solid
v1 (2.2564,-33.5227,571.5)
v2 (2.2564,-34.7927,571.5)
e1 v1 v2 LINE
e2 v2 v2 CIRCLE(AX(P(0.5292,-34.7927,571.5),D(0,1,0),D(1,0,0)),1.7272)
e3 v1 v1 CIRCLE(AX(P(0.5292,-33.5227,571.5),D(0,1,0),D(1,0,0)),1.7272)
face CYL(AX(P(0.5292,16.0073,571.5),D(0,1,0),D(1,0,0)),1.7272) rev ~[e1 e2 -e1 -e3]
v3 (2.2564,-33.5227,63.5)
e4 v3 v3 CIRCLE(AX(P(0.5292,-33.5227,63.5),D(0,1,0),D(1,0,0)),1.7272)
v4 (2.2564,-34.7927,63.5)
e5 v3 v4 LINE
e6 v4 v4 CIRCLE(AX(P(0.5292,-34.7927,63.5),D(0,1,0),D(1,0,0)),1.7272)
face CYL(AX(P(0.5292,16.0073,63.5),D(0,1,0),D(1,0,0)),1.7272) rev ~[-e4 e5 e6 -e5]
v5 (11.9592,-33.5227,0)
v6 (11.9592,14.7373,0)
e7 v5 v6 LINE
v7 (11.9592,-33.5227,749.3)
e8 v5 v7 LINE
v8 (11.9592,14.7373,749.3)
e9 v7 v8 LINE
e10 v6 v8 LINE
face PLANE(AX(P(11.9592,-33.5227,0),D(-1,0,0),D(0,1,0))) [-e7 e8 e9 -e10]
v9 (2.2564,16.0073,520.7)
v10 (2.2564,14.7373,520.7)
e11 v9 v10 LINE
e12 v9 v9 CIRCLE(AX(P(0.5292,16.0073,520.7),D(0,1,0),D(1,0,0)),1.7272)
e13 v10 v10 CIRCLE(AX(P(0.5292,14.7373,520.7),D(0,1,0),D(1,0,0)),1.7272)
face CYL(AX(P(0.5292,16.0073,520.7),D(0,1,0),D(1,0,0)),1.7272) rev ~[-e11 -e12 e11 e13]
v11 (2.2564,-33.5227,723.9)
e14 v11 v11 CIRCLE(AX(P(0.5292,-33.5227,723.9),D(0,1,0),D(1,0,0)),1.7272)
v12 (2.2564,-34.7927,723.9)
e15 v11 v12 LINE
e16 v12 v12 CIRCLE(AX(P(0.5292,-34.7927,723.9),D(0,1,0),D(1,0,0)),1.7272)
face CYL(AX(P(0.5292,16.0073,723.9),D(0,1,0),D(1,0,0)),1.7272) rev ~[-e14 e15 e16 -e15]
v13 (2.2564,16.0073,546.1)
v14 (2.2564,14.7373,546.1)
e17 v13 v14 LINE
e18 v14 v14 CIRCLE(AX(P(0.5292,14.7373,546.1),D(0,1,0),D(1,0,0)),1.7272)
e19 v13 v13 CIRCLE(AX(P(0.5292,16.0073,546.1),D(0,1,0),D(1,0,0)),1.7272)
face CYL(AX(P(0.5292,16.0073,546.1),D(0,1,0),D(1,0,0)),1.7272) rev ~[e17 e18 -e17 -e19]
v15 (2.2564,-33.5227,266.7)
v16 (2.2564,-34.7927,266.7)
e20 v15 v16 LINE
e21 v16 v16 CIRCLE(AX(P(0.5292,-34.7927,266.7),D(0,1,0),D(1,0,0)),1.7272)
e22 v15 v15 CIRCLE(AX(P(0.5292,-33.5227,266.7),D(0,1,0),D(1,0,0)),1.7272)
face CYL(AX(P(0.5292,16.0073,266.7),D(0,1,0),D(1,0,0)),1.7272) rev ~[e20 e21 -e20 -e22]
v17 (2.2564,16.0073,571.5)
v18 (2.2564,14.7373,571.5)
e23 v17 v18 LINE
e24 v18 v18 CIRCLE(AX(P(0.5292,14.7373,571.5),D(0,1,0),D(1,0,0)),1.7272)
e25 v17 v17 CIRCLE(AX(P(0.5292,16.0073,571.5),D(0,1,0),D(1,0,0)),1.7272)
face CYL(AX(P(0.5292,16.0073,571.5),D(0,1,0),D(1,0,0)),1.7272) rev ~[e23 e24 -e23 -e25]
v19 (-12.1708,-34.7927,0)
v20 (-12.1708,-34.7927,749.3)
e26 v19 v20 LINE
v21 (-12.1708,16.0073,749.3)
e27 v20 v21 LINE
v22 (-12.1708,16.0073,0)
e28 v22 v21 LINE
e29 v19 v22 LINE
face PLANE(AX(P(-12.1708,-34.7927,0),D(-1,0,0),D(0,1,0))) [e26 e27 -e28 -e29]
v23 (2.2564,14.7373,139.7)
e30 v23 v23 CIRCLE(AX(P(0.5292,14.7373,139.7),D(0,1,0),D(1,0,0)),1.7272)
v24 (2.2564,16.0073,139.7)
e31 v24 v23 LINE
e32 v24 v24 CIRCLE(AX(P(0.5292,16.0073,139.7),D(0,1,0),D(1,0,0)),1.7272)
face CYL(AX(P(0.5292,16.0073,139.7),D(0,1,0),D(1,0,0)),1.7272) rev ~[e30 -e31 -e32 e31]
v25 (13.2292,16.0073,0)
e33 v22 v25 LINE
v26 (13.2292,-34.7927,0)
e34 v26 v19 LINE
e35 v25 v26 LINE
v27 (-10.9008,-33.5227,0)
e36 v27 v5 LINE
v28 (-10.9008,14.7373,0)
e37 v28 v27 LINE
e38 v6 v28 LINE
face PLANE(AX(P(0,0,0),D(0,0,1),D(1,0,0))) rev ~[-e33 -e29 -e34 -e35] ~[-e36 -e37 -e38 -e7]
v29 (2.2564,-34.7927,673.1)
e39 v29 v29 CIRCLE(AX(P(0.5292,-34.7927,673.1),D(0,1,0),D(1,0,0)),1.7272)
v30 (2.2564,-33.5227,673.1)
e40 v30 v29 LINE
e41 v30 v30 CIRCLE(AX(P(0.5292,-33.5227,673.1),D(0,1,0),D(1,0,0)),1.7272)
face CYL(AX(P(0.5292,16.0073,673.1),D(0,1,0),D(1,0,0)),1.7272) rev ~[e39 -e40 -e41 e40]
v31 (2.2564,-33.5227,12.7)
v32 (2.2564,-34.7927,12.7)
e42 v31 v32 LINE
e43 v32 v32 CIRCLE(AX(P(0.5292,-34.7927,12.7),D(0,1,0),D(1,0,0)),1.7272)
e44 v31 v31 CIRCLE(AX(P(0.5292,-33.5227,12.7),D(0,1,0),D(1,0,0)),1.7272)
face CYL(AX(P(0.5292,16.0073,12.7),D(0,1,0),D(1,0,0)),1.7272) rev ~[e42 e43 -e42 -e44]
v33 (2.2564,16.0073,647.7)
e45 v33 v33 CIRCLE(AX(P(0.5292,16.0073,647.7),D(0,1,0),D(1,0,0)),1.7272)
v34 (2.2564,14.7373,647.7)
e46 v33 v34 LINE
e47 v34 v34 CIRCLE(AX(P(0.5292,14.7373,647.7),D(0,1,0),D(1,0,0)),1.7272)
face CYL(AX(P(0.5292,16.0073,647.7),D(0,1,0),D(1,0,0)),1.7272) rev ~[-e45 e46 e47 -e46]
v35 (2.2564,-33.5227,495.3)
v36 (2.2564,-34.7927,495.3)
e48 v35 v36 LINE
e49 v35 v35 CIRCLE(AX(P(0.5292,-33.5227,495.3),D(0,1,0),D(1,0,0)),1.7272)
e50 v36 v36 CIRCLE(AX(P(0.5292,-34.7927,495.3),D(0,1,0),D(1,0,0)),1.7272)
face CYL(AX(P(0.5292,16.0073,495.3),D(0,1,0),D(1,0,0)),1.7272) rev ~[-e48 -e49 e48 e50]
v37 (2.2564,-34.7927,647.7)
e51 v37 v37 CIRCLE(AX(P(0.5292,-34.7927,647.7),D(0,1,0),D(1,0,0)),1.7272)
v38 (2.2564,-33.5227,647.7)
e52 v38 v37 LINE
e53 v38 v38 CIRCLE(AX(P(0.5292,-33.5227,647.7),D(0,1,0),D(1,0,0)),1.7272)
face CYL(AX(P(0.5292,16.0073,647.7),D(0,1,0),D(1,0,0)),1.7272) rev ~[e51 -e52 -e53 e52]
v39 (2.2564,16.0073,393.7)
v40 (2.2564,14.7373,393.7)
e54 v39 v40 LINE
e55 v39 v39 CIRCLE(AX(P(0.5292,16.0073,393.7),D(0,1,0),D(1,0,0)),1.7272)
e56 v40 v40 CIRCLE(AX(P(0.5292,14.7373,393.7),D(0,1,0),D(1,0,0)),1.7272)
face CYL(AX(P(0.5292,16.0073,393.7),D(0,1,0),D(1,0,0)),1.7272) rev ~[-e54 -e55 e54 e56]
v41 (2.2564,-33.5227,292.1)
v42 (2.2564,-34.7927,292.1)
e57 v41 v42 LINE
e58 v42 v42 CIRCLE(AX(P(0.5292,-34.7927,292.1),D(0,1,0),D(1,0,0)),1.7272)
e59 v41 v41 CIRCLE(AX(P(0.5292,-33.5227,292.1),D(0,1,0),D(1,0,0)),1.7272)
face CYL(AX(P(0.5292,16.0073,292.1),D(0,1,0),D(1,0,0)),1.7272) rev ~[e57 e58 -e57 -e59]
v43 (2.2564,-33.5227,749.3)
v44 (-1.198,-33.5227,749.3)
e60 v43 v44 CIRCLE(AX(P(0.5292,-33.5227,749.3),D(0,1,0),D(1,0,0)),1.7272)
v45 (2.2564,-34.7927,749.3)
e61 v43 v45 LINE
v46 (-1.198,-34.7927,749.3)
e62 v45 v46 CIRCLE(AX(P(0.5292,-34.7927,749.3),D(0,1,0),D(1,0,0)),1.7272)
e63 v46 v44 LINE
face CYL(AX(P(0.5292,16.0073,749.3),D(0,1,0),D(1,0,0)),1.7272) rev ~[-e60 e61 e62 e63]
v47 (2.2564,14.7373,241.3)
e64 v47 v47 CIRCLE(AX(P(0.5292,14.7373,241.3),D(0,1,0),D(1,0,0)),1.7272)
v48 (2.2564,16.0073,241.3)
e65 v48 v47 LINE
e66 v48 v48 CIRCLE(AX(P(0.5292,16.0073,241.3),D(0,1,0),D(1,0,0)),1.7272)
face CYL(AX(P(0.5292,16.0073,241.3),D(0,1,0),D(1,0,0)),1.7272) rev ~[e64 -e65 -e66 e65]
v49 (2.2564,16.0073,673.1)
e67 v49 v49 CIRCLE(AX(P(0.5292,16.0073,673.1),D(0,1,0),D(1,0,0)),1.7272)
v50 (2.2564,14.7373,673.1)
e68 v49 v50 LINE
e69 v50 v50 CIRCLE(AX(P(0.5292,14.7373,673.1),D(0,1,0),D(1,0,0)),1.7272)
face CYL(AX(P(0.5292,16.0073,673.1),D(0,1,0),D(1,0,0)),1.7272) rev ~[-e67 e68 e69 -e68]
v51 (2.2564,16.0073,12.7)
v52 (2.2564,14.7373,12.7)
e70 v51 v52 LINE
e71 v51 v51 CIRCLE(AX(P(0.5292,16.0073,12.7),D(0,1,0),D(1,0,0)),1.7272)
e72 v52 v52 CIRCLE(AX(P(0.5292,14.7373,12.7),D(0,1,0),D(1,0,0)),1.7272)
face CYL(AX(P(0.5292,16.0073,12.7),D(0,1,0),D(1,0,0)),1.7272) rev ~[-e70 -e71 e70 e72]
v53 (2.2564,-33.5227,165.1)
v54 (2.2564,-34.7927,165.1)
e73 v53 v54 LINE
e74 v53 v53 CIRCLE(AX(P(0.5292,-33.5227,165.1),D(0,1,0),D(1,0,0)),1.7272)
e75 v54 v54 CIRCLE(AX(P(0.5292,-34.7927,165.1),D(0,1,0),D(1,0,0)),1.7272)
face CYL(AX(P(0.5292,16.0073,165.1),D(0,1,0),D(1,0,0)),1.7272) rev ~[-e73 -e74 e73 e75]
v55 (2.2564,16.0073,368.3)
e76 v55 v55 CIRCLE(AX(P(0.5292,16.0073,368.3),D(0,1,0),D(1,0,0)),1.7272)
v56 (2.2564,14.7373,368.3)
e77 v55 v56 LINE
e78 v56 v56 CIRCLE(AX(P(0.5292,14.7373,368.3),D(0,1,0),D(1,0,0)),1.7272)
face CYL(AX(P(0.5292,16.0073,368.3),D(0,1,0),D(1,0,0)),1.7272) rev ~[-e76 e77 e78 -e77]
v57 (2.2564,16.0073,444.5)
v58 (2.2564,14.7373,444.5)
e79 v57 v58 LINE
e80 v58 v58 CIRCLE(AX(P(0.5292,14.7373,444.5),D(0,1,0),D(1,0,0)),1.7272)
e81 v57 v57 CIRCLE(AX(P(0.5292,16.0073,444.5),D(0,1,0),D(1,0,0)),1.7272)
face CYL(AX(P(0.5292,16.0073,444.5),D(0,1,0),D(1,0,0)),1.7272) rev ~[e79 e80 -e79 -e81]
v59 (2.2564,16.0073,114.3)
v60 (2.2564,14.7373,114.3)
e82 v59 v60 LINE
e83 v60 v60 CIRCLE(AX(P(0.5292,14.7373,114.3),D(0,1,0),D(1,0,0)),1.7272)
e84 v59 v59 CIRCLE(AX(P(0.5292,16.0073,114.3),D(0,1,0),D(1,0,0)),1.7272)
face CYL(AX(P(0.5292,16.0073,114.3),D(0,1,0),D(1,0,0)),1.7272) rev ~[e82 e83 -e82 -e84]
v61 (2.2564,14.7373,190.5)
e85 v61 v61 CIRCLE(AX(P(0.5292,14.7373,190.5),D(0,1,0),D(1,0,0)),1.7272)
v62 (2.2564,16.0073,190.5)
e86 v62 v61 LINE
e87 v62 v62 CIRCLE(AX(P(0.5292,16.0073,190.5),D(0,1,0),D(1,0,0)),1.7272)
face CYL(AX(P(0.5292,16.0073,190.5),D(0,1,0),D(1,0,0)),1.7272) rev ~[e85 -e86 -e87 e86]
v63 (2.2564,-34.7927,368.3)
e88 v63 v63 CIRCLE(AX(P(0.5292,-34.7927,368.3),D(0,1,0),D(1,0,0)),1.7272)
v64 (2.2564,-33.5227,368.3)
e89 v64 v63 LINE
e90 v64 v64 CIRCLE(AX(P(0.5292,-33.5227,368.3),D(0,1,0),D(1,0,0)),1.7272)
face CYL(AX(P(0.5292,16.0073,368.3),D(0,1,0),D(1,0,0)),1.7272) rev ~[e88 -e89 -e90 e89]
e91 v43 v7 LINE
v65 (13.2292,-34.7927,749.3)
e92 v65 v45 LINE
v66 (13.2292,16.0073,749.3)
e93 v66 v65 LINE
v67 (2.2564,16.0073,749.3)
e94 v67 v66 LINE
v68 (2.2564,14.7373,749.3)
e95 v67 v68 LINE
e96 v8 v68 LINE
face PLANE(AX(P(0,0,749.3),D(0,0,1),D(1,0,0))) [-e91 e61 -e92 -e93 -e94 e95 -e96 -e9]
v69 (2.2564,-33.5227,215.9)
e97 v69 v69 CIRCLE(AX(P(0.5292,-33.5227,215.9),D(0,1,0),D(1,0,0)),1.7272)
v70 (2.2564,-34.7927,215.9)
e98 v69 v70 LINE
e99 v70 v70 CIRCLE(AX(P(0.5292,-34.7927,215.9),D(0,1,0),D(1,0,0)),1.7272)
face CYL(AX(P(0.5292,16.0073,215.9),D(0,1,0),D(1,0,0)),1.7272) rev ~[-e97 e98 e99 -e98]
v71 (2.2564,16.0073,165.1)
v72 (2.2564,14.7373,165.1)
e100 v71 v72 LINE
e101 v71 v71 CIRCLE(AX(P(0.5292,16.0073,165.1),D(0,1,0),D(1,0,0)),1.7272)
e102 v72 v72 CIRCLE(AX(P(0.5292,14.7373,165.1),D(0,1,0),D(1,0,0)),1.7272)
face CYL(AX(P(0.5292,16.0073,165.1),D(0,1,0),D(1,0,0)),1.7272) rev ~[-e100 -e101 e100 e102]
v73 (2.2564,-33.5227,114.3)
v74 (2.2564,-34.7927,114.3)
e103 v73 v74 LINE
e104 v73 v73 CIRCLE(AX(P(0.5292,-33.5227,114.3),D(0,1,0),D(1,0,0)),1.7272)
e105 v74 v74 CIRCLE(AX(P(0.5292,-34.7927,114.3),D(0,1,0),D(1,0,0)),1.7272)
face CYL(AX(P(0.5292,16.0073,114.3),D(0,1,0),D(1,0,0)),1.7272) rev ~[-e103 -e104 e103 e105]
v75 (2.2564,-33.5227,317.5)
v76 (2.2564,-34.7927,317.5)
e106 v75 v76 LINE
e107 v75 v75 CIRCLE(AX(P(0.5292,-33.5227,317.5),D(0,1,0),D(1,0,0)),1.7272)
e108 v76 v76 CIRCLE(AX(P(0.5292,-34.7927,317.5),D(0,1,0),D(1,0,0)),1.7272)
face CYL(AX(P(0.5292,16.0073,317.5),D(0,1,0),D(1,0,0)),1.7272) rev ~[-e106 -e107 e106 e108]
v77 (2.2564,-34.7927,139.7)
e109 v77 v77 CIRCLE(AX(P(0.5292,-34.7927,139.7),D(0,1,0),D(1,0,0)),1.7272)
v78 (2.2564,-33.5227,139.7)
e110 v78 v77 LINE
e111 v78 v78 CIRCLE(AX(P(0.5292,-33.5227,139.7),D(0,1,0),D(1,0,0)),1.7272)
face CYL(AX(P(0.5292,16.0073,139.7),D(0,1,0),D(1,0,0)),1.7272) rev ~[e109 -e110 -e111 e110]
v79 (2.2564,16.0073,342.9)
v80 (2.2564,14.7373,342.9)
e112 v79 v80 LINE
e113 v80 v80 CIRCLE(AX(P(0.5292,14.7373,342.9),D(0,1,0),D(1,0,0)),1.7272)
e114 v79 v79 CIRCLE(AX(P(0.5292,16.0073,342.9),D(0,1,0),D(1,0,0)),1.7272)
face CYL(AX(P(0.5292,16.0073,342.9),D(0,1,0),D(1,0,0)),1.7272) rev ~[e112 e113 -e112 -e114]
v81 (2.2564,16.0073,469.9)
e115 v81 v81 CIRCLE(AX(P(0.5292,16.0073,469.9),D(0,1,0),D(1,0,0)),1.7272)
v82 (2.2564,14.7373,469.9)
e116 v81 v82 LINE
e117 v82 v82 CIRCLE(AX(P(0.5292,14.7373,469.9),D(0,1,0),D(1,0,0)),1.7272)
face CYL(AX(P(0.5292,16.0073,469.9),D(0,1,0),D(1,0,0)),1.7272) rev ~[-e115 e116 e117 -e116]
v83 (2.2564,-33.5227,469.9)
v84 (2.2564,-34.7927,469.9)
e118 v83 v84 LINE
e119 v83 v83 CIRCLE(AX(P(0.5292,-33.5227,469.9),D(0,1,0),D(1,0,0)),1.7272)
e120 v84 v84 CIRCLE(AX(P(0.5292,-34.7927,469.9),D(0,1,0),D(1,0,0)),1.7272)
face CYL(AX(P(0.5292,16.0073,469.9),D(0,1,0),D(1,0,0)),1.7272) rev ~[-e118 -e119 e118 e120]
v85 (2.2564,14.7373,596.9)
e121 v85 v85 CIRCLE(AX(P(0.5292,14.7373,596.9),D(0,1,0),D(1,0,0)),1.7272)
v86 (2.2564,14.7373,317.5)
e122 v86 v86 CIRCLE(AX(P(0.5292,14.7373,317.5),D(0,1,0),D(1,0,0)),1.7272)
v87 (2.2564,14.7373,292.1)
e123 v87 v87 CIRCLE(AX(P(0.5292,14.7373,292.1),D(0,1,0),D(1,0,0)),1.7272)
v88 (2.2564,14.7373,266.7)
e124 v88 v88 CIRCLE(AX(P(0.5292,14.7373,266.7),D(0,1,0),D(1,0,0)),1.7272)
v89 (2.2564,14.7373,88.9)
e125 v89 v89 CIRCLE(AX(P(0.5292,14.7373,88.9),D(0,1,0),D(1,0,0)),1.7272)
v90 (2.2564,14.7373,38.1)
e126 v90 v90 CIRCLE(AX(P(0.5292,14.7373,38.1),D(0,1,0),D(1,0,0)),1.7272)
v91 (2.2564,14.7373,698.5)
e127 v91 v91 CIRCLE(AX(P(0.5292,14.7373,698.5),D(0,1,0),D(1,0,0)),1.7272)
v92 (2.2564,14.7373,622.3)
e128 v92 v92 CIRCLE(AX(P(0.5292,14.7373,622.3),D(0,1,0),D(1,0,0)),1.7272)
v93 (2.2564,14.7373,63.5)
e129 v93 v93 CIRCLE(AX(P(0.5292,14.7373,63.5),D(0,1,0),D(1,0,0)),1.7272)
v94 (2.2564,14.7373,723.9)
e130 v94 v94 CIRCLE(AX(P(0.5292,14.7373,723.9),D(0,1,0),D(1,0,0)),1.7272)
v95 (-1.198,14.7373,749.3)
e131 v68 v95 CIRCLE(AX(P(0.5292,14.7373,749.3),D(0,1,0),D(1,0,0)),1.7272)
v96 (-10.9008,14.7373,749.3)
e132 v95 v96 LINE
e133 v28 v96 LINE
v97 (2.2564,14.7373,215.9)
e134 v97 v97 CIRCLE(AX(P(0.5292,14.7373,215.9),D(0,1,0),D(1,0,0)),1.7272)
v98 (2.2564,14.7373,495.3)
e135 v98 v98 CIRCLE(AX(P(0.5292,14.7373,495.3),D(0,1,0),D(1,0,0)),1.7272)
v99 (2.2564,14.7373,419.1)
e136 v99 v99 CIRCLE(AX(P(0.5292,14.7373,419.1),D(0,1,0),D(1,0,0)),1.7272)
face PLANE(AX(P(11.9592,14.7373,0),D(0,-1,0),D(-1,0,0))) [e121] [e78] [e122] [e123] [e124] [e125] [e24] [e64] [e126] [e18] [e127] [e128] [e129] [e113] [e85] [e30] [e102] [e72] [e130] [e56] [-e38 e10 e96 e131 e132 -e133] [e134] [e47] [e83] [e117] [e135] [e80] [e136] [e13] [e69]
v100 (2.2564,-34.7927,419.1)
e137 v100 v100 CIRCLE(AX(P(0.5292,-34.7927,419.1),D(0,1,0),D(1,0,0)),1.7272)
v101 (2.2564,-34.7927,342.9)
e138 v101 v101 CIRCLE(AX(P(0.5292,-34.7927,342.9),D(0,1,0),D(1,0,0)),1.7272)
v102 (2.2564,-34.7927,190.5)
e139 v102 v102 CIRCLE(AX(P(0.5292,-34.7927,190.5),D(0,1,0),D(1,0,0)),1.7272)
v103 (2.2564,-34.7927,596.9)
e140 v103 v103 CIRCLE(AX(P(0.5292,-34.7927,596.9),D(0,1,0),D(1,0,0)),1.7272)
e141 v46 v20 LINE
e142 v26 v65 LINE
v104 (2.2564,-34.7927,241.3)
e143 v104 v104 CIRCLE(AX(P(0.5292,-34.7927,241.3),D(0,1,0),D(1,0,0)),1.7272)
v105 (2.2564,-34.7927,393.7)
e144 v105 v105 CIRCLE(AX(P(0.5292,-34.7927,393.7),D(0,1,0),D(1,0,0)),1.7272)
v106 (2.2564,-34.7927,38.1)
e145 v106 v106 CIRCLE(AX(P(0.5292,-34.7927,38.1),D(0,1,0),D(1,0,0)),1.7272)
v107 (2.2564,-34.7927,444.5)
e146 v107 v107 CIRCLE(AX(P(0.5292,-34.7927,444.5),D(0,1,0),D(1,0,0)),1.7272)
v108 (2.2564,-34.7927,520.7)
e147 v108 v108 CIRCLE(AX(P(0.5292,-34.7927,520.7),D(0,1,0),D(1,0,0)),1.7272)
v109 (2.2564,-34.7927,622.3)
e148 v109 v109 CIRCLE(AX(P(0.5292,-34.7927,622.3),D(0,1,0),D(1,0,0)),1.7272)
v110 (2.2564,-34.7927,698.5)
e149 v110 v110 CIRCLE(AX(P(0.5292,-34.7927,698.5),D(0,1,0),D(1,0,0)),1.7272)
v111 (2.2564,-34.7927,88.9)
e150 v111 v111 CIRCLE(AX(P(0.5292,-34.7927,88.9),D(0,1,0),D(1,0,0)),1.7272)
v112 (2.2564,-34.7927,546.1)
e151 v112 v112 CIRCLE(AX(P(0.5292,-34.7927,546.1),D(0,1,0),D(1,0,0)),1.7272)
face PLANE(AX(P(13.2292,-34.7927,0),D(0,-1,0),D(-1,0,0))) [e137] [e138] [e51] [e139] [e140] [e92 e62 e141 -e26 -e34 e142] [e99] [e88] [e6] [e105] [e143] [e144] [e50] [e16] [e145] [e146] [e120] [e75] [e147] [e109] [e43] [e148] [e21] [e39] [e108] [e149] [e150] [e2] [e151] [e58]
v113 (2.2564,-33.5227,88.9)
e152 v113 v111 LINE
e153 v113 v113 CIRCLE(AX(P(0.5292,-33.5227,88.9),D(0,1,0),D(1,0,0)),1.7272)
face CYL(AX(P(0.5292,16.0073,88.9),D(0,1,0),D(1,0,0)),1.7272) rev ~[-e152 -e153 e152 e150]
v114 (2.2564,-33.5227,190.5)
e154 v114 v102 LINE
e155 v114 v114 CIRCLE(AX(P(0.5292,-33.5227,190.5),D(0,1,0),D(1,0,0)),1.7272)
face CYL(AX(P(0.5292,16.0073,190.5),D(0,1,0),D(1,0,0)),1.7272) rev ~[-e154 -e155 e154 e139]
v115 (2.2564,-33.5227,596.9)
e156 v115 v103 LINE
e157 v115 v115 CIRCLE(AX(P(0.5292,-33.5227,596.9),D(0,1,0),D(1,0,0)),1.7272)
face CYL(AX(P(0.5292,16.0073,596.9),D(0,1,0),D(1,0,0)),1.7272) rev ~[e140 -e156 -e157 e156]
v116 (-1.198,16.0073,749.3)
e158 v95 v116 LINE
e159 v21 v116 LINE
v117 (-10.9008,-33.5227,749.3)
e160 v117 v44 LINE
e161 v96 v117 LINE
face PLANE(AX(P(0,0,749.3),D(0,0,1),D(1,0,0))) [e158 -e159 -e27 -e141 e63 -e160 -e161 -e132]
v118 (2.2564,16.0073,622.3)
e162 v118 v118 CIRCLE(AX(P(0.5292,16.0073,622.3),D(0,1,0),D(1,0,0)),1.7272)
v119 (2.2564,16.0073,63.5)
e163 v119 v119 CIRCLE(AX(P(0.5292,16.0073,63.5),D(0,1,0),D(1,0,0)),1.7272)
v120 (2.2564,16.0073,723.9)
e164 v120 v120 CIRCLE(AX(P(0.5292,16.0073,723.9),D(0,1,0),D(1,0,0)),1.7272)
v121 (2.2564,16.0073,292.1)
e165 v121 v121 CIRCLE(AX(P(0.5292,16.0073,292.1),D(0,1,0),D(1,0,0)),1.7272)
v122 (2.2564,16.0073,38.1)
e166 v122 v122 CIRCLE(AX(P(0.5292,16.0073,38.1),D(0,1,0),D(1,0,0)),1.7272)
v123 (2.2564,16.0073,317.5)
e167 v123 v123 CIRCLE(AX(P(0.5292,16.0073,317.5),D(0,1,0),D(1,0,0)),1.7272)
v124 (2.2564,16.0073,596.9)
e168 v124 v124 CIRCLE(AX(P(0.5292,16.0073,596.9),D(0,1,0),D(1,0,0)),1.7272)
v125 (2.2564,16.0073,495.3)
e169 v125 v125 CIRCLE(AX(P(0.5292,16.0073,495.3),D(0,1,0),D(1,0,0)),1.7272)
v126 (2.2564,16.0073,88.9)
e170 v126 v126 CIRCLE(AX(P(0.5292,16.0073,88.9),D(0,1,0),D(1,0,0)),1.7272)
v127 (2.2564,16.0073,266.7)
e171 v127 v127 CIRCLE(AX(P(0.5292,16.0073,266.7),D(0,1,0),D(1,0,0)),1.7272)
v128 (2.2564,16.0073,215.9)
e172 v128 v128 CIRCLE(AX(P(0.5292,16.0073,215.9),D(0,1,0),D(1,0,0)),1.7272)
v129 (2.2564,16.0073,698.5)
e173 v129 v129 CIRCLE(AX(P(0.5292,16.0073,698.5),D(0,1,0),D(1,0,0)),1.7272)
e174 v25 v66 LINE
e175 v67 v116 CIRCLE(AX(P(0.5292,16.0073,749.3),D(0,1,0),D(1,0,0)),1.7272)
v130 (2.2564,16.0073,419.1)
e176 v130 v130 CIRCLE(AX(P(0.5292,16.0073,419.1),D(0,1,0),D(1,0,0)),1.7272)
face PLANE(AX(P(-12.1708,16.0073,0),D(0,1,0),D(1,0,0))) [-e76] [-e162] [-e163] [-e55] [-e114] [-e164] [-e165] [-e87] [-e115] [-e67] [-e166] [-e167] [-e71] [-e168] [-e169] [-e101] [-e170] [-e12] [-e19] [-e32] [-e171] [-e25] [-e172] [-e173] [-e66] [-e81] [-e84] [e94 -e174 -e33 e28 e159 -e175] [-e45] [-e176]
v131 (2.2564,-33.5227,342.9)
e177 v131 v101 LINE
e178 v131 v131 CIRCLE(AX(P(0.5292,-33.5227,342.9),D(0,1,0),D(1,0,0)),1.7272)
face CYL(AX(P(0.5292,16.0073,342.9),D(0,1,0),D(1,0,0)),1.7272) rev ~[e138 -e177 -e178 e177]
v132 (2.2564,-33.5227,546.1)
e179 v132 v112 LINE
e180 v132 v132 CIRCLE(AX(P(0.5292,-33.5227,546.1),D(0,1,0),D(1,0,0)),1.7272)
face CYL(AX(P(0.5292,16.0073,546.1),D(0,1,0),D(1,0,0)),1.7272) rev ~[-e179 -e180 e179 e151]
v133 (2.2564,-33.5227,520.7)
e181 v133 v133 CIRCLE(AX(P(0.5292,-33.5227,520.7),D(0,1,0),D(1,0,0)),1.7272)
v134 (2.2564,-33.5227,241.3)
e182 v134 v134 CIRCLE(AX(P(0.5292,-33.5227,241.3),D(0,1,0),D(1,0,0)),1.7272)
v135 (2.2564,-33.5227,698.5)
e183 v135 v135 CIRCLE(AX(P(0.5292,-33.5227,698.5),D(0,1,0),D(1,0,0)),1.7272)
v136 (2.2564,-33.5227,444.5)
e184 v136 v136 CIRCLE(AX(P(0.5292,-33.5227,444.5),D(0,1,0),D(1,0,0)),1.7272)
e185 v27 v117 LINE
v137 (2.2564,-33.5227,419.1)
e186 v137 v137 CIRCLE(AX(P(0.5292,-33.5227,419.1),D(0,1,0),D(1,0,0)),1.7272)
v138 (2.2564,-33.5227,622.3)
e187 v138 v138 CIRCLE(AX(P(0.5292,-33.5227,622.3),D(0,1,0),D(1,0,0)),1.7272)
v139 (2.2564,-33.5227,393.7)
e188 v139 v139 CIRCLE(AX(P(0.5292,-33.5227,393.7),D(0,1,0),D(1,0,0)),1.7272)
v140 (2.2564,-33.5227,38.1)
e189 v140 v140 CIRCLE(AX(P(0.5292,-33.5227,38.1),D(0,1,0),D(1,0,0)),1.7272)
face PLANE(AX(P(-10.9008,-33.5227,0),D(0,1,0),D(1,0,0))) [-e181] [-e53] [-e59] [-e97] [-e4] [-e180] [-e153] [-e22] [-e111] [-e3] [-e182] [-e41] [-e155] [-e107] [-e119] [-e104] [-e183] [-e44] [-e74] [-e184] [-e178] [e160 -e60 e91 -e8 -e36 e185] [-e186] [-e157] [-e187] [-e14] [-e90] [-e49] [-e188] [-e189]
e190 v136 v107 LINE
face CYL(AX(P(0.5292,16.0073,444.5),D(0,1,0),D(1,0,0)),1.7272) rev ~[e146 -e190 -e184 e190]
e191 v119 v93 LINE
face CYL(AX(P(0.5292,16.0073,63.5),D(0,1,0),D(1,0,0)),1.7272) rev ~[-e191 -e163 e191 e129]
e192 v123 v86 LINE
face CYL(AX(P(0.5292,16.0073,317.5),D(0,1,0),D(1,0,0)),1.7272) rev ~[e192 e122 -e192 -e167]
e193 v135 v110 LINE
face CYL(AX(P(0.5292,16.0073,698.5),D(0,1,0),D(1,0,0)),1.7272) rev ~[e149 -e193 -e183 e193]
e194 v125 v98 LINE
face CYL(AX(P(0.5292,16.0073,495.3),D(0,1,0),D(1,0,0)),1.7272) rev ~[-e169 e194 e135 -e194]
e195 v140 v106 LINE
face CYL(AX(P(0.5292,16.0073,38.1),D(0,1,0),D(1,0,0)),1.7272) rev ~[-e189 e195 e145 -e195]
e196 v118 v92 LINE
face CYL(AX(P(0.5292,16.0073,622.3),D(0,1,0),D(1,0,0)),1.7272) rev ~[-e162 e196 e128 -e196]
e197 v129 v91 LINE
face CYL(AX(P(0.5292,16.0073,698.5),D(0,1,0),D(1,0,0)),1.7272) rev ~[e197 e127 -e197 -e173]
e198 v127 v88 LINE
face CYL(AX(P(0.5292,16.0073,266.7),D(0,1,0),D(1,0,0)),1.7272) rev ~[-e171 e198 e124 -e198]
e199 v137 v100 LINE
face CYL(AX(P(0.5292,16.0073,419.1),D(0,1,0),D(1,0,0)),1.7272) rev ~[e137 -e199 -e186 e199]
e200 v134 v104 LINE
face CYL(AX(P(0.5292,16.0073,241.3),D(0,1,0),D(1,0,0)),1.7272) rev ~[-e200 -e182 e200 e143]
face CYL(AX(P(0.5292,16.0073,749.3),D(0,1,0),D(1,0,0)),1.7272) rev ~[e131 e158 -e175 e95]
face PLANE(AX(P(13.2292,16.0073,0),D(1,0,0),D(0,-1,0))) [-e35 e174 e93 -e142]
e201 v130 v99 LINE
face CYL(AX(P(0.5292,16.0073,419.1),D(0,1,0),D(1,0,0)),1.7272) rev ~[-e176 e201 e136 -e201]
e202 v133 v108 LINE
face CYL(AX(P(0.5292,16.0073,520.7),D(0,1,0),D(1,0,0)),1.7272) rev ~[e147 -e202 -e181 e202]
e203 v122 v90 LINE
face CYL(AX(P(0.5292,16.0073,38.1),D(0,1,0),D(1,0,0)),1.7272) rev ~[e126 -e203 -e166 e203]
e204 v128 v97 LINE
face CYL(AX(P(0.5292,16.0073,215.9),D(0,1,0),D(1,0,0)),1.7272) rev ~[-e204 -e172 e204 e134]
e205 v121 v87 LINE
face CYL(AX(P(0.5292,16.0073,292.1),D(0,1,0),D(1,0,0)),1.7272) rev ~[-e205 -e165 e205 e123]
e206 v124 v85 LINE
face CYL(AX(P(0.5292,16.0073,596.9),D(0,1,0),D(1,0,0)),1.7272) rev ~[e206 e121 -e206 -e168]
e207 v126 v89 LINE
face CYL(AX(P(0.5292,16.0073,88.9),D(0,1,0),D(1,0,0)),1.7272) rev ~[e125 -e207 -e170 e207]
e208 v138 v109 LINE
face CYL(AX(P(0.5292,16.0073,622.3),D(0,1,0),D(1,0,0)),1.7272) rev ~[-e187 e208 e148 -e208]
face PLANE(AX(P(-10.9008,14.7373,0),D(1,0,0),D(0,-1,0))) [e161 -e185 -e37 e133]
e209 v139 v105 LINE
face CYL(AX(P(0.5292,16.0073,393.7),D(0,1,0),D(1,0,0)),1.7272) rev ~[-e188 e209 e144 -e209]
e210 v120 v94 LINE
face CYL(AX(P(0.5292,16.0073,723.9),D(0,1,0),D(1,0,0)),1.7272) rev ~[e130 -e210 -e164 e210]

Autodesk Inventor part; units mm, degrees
ref_plane "YZ Plane" through (0, 0, 0) normal (1, 0, 0) x (0, 1, 0)
ref_plane "XZ Plane" through (0, 0, 0) normal (0, 1, 0) x (-1, 0, 0)
ref_plane "XY Plane" through (0, 0, 0) normal (0, 0, 1) x (1, 0, 0)
sketch "Sketch1" plane through (0, 0, 0) normal (0, 0, 1) x (1, 0, 0)
  line L0 (-12.1708, 16.0073) -> (13.2292, 16.0073)
  line L1 (13.2292, 16.0073) -> (13.2292, -34.7927)
  line L2 (13.2292, -34.7927) -> (-12.1708, -34.7927)
  line L3 (-12.1708, -34.7927) -> (-12.1708, 16.0073)
  line L4 (11.9592, 14.7373) -> (-10.9008, 14.7373)
  line L5 (-10.9008, 14.7373) -> (-10.9008, -33.5227)
  line L6 (-10.9008, -33.5227) -> (11.9592, -33.5227)
  line L7 (11.9592, -33.5227) -> (11.9592, 14.7373)
  point P0 (0, 0)
  dimension "d0" = 25.4
  dimension "d1" = 50.8
  dimension "d2" = 1.27
extrude "Extrusion1" add sketch "Sketch1" along normal blind 749.3
sketch "Sketch2" plane through (-12.1708, 16.0073, 0) normal (0, 1, 0) x (1, 0, 0)
  circle A0 centre (12.7, -12.7) radius 1.7272
  line L0 (25.4, 0) -> (0, 0) projected
  line L1 (0, 0) -> (0, -749.3) projected
  point P0 (12.1708, 0)
  dimension "d5" = 3.4544
  dimension "d6" = 12.7
  dimension "d7" = 12.7
extrude "Extrusion2" cut sketch "Sketch2" against normal through all
pattern_linear "Rectangular Pattern1" count 75 spacing 25.4 along (0, 0, 1) of "Extrusion2"
equation "\"d3\" = d13"
equation "\"d10\" = d14"
equation "\"d13\" = 749.3"
equation "\"d14\" = d13"
properties part number "VersaFrame 30in"
